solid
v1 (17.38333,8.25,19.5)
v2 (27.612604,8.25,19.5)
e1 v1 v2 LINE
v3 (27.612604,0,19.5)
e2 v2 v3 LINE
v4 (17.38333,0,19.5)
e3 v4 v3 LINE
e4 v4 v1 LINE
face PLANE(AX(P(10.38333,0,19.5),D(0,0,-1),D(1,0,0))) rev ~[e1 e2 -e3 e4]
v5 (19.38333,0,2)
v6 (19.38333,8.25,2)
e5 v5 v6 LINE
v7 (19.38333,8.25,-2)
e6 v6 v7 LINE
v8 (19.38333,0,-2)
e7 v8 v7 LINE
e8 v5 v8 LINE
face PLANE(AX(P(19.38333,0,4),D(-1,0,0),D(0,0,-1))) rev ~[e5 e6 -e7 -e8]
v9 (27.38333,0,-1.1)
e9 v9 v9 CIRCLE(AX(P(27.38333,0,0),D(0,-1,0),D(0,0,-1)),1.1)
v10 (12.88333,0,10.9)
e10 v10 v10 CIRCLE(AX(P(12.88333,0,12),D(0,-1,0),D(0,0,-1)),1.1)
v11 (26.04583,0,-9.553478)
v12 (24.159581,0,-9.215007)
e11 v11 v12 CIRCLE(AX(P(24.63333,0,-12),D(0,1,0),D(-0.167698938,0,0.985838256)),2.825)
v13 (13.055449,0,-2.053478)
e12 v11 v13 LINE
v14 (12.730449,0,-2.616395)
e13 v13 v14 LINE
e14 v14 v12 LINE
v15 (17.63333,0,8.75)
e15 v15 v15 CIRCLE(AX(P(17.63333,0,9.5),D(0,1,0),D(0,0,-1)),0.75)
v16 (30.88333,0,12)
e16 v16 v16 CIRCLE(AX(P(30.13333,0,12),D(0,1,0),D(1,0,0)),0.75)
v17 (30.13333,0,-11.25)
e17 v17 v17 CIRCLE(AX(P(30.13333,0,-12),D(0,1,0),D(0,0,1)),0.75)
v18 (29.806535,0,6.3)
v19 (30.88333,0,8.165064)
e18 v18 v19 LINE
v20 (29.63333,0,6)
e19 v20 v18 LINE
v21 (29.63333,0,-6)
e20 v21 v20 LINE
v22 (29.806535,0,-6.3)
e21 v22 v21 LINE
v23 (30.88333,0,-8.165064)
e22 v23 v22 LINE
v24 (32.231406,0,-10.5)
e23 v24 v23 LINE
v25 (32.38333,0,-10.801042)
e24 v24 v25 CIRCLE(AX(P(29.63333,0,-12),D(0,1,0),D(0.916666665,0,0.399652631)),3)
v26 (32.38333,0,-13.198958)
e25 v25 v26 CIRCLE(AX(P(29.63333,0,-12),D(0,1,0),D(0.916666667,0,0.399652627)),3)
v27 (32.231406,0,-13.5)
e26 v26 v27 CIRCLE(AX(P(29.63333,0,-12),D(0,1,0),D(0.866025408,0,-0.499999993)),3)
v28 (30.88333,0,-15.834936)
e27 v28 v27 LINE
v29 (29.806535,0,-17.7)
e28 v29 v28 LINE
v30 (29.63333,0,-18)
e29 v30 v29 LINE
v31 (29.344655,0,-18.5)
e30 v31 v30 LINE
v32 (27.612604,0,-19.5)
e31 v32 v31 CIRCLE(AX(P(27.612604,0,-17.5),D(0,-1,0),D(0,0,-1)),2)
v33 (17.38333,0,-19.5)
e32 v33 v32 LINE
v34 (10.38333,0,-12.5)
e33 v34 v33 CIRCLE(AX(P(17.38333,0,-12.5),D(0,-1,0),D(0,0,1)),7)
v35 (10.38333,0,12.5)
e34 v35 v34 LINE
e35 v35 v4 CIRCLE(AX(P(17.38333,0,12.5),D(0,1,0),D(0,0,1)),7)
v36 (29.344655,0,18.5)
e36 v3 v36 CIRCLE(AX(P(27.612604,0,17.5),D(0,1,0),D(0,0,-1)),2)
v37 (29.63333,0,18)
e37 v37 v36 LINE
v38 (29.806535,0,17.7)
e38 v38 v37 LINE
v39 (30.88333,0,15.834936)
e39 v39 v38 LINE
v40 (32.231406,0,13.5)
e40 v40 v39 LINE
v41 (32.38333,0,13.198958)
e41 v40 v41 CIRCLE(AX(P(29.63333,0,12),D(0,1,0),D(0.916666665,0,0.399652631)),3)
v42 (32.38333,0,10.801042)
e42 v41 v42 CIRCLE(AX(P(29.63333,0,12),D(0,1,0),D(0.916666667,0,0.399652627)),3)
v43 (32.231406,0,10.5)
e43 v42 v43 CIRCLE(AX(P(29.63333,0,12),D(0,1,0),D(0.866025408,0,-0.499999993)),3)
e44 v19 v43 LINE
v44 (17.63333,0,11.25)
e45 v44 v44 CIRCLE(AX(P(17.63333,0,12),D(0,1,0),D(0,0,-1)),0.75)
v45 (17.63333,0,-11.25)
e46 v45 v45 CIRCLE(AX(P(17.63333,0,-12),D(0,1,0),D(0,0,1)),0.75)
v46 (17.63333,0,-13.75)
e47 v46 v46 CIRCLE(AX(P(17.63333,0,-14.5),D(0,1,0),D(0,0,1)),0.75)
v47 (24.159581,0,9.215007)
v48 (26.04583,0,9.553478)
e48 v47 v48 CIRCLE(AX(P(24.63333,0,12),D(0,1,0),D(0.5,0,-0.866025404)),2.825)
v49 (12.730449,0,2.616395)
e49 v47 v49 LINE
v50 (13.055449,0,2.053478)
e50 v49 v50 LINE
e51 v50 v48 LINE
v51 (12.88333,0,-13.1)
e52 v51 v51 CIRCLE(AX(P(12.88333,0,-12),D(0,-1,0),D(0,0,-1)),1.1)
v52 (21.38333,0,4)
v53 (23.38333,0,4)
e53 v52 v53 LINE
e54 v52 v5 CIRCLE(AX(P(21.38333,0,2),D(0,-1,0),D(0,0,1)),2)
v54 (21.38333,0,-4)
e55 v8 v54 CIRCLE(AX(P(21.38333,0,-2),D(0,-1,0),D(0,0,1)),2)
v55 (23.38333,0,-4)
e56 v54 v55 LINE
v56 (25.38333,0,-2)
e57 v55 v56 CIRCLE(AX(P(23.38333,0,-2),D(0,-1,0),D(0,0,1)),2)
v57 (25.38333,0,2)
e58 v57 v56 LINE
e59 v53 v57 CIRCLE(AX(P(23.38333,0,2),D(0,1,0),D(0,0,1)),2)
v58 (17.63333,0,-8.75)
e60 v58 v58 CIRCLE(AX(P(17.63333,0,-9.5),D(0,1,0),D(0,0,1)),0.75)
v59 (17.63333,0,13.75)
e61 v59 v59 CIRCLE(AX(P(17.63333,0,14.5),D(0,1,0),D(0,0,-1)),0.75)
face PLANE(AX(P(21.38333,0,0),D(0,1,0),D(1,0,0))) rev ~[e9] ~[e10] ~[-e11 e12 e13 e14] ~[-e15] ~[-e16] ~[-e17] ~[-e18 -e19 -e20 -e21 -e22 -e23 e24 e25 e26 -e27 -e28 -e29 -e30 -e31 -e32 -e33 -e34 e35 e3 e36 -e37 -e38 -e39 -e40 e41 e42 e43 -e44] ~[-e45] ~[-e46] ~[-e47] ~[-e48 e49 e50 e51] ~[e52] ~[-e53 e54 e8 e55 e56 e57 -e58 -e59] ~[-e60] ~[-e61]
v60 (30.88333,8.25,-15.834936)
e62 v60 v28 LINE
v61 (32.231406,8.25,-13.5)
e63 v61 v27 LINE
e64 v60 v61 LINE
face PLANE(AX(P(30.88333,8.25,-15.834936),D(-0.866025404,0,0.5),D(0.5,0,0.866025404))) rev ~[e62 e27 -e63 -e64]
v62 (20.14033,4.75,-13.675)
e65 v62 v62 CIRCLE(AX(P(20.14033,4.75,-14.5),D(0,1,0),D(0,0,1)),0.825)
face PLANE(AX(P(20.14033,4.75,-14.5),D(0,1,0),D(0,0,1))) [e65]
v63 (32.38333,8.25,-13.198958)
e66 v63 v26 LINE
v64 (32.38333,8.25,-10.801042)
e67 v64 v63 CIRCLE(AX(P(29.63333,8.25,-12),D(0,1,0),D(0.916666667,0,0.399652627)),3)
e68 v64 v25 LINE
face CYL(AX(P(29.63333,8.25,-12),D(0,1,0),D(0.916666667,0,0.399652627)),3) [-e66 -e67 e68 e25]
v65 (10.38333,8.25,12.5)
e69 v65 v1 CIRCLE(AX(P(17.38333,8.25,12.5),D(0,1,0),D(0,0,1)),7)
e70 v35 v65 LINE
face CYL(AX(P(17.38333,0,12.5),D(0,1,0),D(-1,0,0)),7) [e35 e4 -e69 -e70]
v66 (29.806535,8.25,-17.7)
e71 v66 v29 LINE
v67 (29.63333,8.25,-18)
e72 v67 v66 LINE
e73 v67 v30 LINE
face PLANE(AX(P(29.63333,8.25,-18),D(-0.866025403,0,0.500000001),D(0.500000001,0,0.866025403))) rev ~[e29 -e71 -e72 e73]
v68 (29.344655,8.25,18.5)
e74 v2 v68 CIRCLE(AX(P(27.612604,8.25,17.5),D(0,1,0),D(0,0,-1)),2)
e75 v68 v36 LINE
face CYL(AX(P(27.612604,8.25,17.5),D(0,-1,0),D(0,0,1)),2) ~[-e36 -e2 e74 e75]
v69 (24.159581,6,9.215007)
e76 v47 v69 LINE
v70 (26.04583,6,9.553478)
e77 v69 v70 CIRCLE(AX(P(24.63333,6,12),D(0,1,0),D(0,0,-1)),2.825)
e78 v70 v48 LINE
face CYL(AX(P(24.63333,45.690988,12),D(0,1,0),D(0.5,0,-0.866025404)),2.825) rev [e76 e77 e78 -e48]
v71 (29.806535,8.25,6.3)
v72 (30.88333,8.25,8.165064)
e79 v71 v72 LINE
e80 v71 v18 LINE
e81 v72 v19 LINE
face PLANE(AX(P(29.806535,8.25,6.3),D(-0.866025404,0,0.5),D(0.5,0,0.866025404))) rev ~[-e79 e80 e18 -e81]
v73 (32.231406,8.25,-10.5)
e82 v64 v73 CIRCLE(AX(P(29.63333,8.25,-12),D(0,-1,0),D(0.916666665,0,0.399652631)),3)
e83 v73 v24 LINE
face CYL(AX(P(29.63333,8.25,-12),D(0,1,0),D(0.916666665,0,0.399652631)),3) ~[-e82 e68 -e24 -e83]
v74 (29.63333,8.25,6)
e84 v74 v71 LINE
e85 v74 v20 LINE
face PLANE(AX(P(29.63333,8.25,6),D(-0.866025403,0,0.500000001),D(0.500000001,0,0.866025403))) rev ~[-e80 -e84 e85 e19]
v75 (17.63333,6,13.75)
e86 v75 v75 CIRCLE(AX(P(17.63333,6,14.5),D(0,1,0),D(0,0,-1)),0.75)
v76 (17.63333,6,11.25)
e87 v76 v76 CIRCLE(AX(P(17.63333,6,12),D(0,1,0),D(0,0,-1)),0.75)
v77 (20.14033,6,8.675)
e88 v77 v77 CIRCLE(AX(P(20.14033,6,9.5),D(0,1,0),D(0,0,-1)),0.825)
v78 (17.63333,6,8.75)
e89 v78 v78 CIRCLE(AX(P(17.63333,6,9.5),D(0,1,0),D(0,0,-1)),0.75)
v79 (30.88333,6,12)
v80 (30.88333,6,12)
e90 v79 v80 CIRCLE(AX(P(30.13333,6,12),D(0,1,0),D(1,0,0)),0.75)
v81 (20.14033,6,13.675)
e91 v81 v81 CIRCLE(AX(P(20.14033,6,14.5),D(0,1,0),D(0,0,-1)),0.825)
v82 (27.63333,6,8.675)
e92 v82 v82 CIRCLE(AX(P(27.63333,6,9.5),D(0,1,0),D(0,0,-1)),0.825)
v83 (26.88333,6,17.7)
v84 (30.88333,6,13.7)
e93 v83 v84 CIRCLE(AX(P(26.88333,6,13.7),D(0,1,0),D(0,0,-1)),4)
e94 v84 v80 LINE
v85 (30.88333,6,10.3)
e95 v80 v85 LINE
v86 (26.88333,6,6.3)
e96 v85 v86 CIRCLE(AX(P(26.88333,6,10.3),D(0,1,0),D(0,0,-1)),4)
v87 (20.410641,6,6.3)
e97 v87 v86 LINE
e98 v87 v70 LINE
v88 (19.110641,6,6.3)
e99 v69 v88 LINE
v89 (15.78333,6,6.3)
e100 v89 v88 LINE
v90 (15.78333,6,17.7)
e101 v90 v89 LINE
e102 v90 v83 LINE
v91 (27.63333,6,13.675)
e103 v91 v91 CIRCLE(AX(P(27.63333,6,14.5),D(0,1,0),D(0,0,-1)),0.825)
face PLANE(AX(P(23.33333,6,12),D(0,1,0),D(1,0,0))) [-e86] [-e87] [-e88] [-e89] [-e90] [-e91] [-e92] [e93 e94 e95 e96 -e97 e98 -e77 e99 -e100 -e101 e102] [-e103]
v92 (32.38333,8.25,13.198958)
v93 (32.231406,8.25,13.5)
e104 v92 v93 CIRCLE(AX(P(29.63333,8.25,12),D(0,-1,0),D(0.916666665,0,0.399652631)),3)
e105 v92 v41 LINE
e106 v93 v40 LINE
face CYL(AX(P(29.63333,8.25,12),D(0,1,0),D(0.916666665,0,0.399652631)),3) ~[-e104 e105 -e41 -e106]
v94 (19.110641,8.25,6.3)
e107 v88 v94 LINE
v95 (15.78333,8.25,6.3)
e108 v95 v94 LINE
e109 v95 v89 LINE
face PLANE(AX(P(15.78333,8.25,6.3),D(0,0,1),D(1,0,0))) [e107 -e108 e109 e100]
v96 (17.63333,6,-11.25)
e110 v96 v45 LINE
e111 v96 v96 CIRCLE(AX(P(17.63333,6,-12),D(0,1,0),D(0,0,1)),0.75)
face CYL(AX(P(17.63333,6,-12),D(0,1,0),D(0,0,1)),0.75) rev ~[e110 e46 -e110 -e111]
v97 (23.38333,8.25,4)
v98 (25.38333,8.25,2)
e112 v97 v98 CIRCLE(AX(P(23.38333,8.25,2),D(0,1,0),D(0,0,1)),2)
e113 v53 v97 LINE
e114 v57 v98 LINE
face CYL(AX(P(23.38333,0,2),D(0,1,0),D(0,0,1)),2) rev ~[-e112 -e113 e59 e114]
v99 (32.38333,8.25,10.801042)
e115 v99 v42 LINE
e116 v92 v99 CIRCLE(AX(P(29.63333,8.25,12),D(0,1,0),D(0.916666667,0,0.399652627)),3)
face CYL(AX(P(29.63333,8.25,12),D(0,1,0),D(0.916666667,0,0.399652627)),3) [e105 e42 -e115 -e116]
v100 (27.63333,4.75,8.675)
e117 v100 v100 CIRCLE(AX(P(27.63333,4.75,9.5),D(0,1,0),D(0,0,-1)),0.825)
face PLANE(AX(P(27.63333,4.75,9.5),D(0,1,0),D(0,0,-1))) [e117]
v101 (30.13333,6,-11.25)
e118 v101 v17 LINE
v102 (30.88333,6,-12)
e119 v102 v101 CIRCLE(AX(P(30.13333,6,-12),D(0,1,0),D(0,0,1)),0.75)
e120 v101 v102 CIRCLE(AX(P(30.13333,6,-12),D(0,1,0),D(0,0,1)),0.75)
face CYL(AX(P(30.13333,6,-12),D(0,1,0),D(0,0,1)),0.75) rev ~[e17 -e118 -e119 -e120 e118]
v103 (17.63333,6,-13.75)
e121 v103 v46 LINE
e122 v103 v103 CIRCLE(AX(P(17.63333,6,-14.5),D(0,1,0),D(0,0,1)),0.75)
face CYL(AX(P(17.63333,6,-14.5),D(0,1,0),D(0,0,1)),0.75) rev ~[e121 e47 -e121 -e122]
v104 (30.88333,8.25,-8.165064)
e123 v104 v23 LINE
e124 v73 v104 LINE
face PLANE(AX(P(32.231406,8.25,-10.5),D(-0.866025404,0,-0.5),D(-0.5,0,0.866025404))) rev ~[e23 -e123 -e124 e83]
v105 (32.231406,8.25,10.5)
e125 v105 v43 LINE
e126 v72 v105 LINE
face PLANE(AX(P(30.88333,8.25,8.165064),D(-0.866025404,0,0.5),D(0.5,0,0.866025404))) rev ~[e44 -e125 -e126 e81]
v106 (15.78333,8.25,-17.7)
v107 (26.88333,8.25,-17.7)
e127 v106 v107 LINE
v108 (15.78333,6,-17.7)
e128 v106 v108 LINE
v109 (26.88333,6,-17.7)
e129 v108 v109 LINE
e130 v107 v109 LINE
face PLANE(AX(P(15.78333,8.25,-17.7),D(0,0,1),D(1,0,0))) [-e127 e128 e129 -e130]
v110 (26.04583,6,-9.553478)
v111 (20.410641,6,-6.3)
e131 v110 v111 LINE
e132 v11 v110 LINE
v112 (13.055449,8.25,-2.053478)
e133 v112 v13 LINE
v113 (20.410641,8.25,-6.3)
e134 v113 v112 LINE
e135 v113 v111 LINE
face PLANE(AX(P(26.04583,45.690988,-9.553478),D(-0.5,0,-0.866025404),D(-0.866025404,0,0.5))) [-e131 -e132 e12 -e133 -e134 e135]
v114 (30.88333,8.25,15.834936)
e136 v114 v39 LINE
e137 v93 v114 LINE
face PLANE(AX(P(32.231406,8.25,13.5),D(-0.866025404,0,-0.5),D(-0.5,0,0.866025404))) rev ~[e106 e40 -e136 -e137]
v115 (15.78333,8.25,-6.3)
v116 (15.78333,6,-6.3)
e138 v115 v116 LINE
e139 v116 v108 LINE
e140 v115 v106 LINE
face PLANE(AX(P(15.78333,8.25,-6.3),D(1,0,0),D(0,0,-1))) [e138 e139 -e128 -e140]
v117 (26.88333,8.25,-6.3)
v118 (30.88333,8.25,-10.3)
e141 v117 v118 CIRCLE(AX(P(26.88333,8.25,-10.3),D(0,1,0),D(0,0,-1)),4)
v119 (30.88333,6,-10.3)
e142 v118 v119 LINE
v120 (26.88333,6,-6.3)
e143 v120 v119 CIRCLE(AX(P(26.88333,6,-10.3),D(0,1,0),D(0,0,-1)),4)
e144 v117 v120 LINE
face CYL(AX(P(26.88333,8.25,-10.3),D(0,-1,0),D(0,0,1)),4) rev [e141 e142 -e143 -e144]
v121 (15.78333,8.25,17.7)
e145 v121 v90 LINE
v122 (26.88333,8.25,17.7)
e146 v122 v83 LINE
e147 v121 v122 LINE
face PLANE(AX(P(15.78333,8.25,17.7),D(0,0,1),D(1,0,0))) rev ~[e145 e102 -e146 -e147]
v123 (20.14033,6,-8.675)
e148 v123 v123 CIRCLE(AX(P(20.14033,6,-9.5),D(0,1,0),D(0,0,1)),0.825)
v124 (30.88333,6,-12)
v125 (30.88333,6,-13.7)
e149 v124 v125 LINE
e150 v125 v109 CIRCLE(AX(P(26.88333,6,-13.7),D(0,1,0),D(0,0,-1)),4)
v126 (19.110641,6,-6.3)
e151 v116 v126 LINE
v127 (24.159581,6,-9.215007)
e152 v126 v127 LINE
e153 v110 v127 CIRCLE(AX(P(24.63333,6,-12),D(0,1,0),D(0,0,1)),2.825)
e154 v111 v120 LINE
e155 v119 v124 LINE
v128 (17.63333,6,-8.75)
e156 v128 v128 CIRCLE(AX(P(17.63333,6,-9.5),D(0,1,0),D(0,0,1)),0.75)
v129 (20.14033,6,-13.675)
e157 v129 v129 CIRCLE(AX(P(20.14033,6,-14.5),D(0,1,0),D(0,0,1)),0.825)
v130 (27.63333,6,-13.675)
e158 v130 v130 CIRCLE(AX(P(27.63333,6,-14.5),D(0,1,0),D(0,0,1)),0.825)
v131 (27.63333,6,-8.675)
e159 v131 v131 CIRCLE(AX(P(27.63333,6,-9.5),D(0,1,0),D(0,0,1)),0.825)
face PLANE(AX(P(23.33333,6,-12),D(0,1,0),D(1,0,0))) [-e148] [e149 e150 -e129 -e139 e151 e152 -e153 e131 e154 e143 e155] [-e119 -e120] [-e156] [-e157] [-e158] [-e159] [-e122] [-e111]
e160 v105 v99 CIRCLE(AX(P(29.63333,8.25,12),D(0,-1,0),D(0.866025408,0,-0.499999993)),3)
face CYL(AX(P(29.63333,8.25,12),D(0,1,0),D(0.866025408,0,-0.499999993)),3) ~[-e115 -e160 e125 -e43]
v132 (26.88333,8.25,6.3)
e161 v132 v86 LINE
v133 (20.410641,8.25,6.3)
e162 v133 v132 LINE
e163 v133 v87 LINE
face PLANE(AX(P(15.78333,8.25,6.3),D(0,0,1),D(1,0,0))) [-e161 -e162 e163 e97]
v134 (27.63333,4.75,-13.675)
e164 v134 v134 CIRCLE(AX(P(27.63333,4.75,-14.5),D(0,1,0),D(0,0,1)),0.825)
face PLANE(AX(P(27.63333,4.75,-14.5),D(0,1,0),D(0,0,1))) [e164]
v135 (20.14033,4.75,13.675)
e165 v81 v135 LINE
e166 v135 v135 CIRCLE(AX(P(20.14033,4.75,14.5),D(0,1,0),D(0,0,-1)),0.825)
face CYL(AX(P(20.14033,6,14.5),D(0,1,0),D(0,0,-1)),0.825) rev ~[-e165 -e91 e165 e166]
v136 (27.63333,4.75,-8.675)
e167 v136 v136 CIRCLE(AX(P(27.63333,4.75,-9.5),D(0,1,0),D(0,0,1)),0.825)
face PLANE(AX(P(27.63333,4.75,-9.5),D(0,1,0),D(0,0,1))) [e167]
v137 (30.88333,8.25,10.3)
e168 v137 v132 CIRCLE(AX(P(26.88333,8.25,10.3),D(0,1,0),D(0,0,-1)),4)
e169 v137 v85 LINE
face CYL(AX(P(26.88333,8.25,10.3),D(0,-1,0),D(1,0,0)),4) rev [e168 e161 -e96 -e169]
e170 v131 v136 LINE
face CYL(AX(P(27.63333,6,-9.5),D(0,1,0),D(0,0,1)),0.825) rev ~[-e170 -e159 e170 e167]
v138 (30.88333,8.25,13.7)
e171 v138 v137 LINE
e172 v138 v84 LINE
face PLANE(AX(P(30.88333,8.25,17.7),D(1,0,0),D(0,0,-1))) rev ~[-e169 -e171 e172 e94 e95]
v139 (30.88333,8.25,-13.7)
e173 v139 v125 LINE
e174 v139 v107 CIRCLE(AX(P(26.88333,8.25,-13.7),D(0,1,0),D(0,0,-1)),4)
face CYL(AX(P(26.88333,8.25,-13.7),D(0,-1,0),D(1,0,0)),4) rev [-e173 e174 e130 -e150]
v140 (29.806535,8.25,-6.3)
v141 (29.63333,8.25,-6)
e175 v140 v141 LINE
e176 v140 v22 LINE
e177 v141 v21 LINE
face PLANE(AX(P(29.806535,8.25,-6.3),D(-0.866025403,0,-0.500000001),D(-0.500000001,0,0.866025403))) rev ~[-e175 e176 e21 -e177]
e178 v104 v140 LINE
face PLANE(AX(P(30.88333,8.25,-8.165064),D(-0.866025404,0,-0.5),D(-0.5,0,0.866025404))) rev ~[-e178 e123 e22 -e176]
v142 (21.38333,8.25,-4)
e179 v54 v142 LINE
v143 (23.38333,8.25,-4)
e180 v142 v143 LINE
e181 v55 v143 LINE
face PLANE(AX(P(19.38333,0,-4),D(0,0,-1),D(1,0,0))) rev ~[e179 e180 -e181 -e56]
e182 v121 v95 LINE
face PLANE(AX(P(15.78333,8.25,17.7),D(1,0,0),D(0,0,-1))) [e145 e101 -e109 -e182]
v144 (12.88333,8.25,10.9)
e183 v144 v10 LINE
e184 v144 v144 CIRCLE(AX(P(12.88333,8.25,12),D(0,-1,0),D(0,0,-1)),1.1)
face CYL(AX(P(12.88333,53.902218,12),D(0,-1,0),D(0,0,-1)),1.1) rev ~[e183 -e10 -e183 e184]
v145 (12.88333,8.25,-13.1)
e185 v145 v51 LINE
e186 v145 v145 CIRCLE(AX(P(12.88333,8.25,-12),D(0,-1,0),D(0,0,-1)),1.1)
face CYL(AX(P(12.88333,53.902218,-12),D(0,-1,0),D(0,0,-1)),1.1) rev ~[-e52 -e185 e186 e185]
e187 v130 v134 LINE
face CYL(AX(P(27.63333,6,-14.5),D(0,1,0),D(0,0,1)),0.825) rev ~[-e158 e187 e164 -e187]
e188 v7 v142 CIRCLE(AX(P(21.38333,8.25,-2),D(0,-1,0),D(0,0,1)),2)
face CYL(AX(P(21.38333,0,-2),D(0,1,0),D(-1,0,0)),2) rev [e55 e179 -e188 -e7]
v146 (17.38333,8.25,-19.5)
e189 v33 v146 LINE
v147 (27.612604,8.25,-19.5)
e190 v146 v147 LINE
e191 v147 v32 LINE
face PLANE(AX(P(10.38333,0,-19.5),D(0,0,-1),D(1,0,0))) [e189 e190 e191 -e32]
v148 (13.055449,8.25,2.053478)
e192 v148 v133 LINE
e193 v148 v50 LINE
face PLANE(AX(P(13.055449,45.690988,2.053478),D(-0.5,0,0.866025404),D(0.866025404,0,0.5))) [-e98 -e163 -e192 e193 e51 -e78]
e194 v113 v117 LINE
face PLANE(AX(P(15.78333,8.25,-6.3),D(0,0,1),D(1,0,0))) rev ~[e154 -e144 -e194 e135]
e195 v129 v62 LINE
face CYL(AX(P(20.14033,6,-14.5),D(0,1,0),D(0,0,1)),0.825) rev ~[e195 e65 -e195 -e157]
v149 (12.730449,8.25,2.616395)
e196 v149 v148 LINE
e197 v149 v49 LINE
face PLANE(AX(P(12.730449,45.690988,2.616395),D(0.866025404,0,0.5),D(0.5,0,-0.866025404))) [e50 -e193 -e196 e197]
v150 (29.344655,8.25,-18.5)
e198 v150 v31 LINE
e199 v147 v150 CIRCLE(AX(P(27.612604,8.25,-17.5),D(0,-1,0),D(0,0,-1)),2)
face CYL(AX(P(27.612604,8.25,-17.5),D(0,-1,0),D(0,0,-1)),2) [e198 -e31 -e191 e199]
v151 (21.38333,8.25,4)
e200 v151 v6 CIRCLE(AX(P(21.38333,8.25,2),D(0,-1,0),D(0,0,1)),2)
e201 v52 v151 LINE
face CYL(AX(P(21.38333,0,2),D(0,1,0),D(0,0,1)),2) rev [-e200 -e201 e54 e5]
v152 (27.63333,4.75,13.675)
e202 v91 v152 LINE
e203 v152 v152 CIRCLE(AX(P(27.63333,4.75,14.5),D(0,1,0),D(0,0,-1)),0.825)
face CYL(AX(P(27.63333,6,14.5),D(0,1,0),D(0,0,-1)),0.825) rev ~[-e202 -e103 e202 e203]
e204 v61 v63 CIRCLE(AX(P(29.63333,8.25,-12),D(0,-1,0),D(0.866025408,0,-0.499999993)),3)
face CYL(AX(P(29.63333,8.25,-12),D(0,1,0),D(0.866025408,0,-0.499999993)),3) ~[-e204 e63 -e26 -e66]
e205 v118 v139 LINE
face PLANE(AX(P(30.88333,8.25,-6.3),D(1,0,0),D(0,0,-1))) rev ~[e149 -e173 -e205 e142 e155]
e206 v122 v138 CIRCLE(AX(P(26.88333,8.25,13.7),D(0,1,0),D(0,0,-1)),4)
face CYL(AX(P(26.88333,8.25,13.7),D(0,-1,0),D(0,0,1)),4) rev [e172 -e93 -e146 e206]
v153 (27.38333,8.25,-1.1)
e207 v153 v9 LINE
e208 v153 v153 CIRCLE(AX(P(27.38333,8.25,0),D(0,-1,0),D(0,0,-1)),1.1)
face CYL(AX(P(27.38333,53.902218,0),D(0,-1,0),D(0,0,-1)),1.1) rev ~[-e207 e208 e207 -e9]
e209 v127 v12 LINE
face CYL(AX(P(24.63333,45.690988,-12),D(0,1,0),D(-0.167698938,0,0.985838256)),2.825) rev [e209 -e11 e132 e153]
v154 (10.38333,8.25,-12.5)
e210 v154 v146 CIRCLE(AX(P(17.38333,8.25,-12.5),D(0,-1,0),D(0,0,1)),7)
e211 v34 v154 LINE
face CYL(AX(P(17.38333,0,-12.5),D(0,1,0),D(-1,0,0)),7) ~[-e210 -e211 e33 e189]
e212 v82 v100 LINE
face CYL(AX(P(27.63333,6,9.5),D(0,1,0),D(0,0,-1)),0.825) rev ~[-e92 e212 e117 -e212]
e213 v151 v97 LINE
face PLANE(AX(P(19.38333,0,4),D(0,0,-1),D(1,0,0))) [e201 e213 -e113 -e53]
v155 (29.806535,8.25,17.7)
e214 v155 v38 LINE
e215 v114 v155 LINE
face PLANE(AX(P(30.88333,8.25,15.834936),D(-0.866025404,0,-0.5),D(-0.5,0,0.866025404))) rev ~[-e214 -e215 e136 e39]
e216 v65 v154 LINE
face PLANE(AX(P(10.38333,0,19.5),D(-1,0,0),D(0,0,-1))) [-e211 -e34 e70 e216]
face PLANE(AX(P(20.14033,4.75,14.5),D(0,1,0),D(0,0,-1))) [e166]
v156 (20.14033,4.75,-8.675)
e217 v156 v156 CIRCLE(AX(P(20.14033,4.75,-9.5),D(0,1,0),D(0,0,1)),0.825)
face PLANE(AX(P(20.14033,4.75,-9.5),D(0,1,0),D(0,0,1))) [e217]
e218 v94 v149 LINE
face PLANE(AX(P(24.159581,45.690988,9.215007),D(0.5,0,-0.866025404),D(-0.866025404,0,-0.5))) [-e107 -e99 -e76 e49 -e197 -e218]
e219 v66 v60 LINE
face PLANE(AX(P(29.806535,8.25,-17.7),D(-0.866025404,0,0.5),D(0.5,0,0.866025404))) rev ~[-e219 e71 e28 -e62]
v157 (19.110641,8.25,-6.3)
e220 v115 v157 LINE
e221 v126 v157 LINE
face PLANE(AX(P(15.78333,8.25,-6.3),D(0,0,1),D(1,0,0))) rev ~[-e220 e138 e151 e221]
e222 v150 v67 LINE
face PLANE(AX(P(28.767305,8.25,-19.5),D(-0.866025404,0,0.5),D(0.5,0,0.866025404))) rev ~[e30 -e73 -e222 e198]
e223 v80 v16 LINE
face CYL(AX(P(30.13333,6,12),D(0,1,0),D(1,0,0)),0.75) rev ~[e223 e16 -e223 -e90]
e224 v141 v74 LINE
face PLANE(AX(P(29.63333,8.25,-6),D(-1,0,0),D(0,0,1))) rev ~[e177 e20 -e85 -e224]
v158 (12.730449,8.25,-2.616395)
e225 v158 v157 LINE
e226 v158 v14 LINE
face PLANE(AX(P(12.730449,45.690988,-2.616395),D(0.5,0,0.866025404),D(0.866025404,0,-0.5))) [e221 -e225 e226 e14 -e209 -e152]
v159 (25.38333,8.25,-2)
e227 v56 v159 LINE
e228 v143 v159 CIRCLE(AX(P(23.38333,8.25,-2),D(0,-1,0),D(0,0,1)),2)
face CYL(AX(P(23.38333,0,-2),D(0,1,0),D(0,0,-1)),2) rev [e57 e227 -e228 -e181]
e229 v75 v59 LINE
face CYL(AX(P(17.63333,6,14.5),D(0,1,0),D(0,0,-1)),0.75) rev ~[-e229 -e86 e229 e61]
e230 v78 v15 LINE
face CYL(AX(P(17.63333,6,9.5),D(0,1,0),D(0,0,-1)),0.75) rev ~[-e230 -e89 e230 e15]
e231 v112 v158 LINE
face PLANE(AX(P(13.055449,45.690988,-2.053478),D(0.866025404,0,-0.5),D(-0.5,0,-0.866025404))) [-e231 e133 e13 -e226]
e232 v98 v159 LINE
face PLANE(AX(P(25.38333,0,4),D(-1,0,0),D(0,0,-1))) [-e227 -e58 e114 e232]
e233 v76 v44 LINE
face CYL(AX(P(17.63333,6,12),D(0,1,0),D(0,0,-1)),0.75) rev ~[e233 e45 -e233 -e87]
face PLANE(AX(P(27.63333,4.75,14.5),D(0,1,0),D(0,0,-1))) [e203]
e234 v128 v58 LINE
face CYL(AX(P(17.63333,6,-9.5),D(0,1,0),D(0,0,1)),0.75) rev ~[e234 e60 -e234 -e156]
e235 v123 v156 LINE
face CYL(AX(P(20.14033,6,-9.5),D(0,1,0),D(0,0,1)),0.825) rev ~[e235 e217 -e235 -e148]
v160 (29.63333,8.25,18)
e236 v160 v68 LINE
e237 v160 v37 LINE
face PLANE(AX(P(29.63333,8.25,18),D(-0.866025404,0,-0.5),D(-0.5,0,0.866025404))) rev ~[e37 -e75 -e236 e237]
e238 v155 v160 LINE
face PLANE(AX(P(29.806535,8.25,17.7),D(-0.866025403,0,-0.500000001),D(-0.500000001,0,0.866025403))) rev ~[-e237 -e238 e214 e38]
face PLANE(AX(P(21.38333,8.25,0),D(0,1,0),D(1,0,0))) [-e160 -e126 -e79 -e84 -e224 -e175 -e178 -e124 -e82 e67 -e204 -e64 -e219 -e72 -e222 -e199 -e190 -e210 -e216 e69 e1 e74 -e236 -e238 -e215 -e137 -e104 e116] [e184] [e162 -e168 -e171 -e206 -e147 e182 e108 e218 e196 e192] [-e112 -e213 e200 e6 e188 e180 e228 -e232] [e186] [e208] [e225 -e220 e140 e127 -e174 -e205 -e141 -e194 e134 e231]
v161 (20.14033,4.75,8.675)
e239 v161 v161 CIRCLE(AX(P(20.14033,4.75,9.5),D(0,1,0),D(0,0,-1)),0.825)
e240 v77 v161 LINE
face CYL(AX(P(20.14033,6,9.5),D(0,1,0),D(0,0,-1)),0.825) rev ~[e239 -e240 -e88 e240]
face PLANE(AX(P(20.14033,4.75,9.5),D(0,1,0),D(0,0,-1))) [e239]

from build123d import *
from build123d.topology import SkipClean

# Parameters (mm, degrees)
SKETCH1_W                  = 22
SKETCH1_H                  = 39
SKETCH1_W_2                = 6
SKETCH1_H_2                = 8
BOSS_EXTRUDE1_DEPTH        = 8.25
SKETCH8_W                  = 15.1
SKETCH8_H                  = 11.4
CUT_EXTRUDE3_DEPTH         = 2.25
SKETCH7_R                  = 2.825
SKETCH7_R_2                = 0.825
CUT_EXTRUDE4_DEPTH         = 1.25
SKETCH9_R                  = 0.75
CUT_EXTRUDE5_DEPTH         = 39.274404999
CUT_EXTRUDE1_DEPTH         = 37.440988331
CUT_EXTRUDE1_DEPTH_BACK    = 39.690988331
CUT_EXTRUDE1_START         = 2.25
SKETCH6_R                  = 2.825
BOSS_EXTRUDE2_DEPTH        = 8.25
FILLET3_R                  = 4
FILLET4_R                  = 2
CUT_EXTRUDE7_DEPTH         = 39.900472274
FILLET5_R                  = 7
F_2_2_2_2_DIAMETER_HOLE1_D = 2.2
FILLET6_R                  = 2


with BuildPart() as part:
    # Sketch1 → Boss-Extrude1 (new body)
    with BuildSketch(Plane(origin=(0, 0, 0), x_dir=(1, 0, 0), z_dir=(0, 1, 0))):
        with Locations((21.383330249, 0)):
            Rectangle(SKETCH1_W, SKETCH1_H)
        with Locations((22.383330249, 0)):
            Rectangle(SKETCH1_W_2, SKETCH1_H_2, mode=Mode.SUBTRACT)
    extrude(amount=BOSS_EXTRUDE1_DEPTH)

    # Sketch8 → Cut-Extrude3 (cut)
    with BuildSketch(Plane(origin=(0, 8.25, 0), x_dir=(1, 0, 0), z_dir=(0, 1, 0))):
        with Locations((23.333330249, -12)):
            Rectangle(SKETCH8_W, SKETCH8_H)
        with Locations((23.333330249, 12)):
            Rectangle(SKETCH8_W, SKETCH8_H)
    extrude(amount=-CUT_EXTRUDE3_DEPTH, mode=Mode.SUBTRACT)

    # Sketch7 → Cut-Extrude4 (cut)
    with BuildSketch(Plane(origin=(0, 6, 0), x_dir=(1, 0, 0), z_dir=(0, 1, 0))):
        with Locations(Location((24.633330249, 12, 0), (0, 0, 270))):
            Circle(SKETCH7_R)
        with Locations(Location((20.140330249, 14.5, 0), (0, 0, 270))):
            Circle(SKETCH7_R_2)
        with Locations(Location((27.633330249, 14.5, 0), (0, 0, 270))):
            Circle(SKETCH7_R_2)
        with Locations(Location((27.633330249, 9.5, 0), (0, 0, 270))):
            Circle(SKETCH7_R_2)
        with Locations(Location((20.140330249, 9.5, 0), (0, 0, 270))):
            Circle(SKETCH7_R_2)
        with Locations(Location((20.140330249, -9.5, 0), (0, 0, 90))):
            Circle(SKETCH7_R_2)
        with Locations(Location((27.633330249, -9.5, 0), (0, 0, 90))):
            Circle(SKETCH7_R_2)
        with Locations(Location((27.633330249, -14.5, 0), (0, 0, 90))):
            Circle(SKETCH7_R_2)
        with Locations(Location((20.140330249, -14.5, 0), (0, 0, 90))):
            Circle(SKETCH7_R_2)
        with Locations(Location((24.633330249, -12, 0), (0, 0, 90))):
            Circle(SKETCH7_R)
    extrude(amount=-CUT_EXTRUDE4_DEPTH, mode=Mode.SUBTRACT)

    # Sketch9 → Cut-Extrude5 (cut, through all)
    with BuildSketch(Plane(origin=(0, 6, 0), x_dir=(1, 0, 0), z_dir=(0, 1, 0))):
        with Locations(Location((17.633330249, 14.5, 0), (0, 0, 270))):
            Circle(SKETCH9_R)
        with Locations(Location((17.633330249, 12, 0), (0, 0, 270))):
            Circle(SKETCH9_R)
        with Locations(Location((17.633330249, 9.5, 0), (0, 0, 270))):
            Circle(SKETCH9_R)
        with Locations(Location((30.133330249, 12, 0), (0, 0, 270))):
            Circle(SKETCH9_R)
        with Locations((30.133330249, -12)):
            Circle(SKETCH9_R)
        with Locations(Location((17.633330249, -9.5, 0), (0, 0, 90))):
            Circle(SKETCH9_R)
        with Locations(Location((17.633330249, -12, 0), (0, 0, 90))):
            Circle(SKETCH9_R)
        with Locations(Location((17.633330249, -14.5, 0), (0, 0, 90))):
            Circle(SKETCH9_R)
    extrude(amount=-CUT_EXTRUDE5_DEPTH, mode=Mode.SUBTRACT)

    # Sketch6 → Cut-Extrude1 (cut, two sides: drawn at the far end of the back side and taken through both)
    with BuildSketch(Plane(origin=(0, 8.25, 0), x_dir=(-1, 0, 0), z_dir=(0, -1, 0)).offset(CUT_EXTRUDE1_START - CUT_EXTRUDE1_DEPTH_BACK)):
        with Locations((-24.633330249, -12)):
            Circle(SKETCH6_R)
        with Locations((-24.633330249, 12)):
            Circle(SKETCH6_R)
        Polygon((-26.045830249, -9.553478234), (-25.720830249, -10.116394747), (-12.730449192, -2.616394747), (-13.055449192, -2.053478234), align=None)
        Polygon((-13.055449192, 2.053478234), (-12.730449192, 2.616394747), (-25.720830249, 10.116394747), (-26.045830249, 9.553478234), align=None)
    extrude(amount=CUT_EXTRUDE1_DEPTH + CUT_EXTRUDE1_DEPTH_BACK, mode=Mode.SUBTRACT)

    # Sketch11 → Boss-Extrude2 (add, through all)
    with BuildSketch(Plane(origin=(0, 8.25, 0), x_dir=(1, 0, 0), z_dir=(0, 1, 0))):
        with BuildLine():
            ThreePointArc((32.383330249, 10.801042119), (32.633330249, 12), (32.383330249, 13.198957881))
            Line((32.383330249, 13.198957881), (32.383330249, 10.801042119))
        make_face()
        with BuildLine():
            ThreePointArc((32.383330249, -13.198957881), (32.633330249, -12), (32.383330249, -10.801042119))
            Line((32.383330249, -10.801042119), (32.383330249, -13.198957881))
        make_face()
    extrude(amount=-BOSS_EXTRUDE2_DEPTH)

    # Fillet3
    fillet3_edges = [part.edges().sort_by_distance(p)[0] for p in [
        (30.883330249, 7.125, -17.7),
        (30.883330249, 7.125, -6.3),
        (30.883330249, 7.125, 6.3),
        (30.883330249, 7.125, 17.7),
    ]]
    fillet(fillet3_edges, radius=FILLET3_R)

    # Fillet4
    fillet4_edges = [part.edges().sort_by_distance(p)[0] for p in [
        (25.383330249, 4.125, -4),
        (19.383330249, 4.125, -4),
        (19.383330249, 4.125, 4),
        (25.383330249, 4.125, 4),
    ]]
    fillet(fillet4_edges, radius=FILLET4_R)

    # Sketch11<4> → Cut-Extrude7 (cut, through all)
    with SkipClean():  # the faces are left unmerged after this step: merging them gives an invalid solid
        with BuildSketch(Plane(origin=(0, 8.25, 0), x_dir=(1, 0, 0), z_dir=(0, 1, 0))):
            with BuildLine():
                Line((28.767304845, 19.5), (29.633330249, 18))
                Line((29.633330249, 18), (29.80653533, 17.7))
                Line((29.80653533, 17.7), (30.883330249, 17.7))
                Line((30.883330249, 17.7), (30.883330249, 15.834936491))
                Line((30.883330249, 15.834936491), (32.231406461, 13.5))
                ThreePointArc((32.231406461, 13.5), (32.311601404, 13.351615189), (32.383330249, 13.198957881))
                Line((32.383330249, 13.198957881), (32.383330249, 19.5))
                Line((32.383330249, 19.5), (28.767304845, 19.5))
            make_face()
            Polygon((30.883330249, 17.7), (29.80653533, 17.7), (30.883330249, 15.834936491), align=None)
            with BuildLine():
                Line((32.383330249, -10.801042119), (32.383330249, 10.801042119))
                ThreePointArc((32.383330249, 10.801042119), (32.311601404, 10.648384811), (32.231406461, 10.5))
                Line((32.231406461, 10.5), (30.883330249, 8.165063509))
                Line((30.883330249, 8.165063509), (30.883330249, 6.3))
                Line((30.883330249, 6.3), (29.80653533, 6.3))
                Line((29.80653533, 6.3), (29.633330249, 6))
                Line((29.633330249, 6), (29.633330249, -6))
                Line((29.633330249, -6), (29.80653533, -6.3))
                Line((29.80653533, -6.3), (30.883330249, -6.3))
                Line((30.883330249, -6.3), (30.883330249, -8.165063509))
                Line((30.883330249, -8.165063509), (32.231406461, -10.5))
                ThreePointArc((32.231406461, -10.5), (32.311601404, -10.648384811), (32.383330249, -10.801042119))
            make_face()
            Polygon((30.883330249, 6.3), (30.883330249, 8.165063509), (29.80653533, 6.3), align=None)
            with BuildLine():
                Line((32.383330249, -19.5), (32.383330249, -13.198957881))
                ThreePointArc((32.383330249, -13.198957881), (32.311601404, -13.351615189), (32.231406461, -13.5))
                Line((32.231406461, -13.5), (30.883330249, -15.834936491))
                Line((30.883330249, -15.834936491), (30.883330249, -17.7))
                Line((30.883330249, -17.7), (29.80653533, -17.7))
                Line((29.80653533, -17.7), (29.633330249, -18))
                Line((29.633330249, -18), (28.767304845, -19.5))
                Line((28.767304845, -19.5), (32.383330249, -19.5))
            make_face()
            Polygon((30.883330249, -17.7), (30.883330249, -15.834936491), (29.80653533, -17.7), align=None)
            Polygon((29.80653533, -6.3), (30.883330249, -8.165063509), (30.883330249, -6.3), align=None)
        extrude(amount=-CUT_EXTRUDE7_DEPTH, mode=Mode.SUBTRACT)

    # Fillet5
    fillet5_edges = [part.edges().sort_by_distance(p)[0] for p in [
        (10.383330249, 4.125, 19.5),
        (10.383330249, 4.125, -19.5),
    ]]
    fillet(fillet5_edges, radius=FILLET5_R)

    # Ø2.2 (2.2) Diameter Hole1 (through all)
    with Locations(Plane(origin=(12.883330249, 8.25, -12), x_dir=(0, 0, 1), z_dir=(0, 1, 0))):
        with Locations((0, 0), (12, 14.5), (24, 0)):
            Hole(F_2_2_2_2_DIAMETER_HOLE1_D / 2)

    # Fillet6
    fillet6_edges = [part.edges().sort_by_distance(p)[0] for p in [
        (28.767304845, 4.125, -19.5),
        (28.767304845, 4.125, 19.5),
    ]]
    fillet(fillet6_edges, radius=FILLET6_R)


solid = part.part
